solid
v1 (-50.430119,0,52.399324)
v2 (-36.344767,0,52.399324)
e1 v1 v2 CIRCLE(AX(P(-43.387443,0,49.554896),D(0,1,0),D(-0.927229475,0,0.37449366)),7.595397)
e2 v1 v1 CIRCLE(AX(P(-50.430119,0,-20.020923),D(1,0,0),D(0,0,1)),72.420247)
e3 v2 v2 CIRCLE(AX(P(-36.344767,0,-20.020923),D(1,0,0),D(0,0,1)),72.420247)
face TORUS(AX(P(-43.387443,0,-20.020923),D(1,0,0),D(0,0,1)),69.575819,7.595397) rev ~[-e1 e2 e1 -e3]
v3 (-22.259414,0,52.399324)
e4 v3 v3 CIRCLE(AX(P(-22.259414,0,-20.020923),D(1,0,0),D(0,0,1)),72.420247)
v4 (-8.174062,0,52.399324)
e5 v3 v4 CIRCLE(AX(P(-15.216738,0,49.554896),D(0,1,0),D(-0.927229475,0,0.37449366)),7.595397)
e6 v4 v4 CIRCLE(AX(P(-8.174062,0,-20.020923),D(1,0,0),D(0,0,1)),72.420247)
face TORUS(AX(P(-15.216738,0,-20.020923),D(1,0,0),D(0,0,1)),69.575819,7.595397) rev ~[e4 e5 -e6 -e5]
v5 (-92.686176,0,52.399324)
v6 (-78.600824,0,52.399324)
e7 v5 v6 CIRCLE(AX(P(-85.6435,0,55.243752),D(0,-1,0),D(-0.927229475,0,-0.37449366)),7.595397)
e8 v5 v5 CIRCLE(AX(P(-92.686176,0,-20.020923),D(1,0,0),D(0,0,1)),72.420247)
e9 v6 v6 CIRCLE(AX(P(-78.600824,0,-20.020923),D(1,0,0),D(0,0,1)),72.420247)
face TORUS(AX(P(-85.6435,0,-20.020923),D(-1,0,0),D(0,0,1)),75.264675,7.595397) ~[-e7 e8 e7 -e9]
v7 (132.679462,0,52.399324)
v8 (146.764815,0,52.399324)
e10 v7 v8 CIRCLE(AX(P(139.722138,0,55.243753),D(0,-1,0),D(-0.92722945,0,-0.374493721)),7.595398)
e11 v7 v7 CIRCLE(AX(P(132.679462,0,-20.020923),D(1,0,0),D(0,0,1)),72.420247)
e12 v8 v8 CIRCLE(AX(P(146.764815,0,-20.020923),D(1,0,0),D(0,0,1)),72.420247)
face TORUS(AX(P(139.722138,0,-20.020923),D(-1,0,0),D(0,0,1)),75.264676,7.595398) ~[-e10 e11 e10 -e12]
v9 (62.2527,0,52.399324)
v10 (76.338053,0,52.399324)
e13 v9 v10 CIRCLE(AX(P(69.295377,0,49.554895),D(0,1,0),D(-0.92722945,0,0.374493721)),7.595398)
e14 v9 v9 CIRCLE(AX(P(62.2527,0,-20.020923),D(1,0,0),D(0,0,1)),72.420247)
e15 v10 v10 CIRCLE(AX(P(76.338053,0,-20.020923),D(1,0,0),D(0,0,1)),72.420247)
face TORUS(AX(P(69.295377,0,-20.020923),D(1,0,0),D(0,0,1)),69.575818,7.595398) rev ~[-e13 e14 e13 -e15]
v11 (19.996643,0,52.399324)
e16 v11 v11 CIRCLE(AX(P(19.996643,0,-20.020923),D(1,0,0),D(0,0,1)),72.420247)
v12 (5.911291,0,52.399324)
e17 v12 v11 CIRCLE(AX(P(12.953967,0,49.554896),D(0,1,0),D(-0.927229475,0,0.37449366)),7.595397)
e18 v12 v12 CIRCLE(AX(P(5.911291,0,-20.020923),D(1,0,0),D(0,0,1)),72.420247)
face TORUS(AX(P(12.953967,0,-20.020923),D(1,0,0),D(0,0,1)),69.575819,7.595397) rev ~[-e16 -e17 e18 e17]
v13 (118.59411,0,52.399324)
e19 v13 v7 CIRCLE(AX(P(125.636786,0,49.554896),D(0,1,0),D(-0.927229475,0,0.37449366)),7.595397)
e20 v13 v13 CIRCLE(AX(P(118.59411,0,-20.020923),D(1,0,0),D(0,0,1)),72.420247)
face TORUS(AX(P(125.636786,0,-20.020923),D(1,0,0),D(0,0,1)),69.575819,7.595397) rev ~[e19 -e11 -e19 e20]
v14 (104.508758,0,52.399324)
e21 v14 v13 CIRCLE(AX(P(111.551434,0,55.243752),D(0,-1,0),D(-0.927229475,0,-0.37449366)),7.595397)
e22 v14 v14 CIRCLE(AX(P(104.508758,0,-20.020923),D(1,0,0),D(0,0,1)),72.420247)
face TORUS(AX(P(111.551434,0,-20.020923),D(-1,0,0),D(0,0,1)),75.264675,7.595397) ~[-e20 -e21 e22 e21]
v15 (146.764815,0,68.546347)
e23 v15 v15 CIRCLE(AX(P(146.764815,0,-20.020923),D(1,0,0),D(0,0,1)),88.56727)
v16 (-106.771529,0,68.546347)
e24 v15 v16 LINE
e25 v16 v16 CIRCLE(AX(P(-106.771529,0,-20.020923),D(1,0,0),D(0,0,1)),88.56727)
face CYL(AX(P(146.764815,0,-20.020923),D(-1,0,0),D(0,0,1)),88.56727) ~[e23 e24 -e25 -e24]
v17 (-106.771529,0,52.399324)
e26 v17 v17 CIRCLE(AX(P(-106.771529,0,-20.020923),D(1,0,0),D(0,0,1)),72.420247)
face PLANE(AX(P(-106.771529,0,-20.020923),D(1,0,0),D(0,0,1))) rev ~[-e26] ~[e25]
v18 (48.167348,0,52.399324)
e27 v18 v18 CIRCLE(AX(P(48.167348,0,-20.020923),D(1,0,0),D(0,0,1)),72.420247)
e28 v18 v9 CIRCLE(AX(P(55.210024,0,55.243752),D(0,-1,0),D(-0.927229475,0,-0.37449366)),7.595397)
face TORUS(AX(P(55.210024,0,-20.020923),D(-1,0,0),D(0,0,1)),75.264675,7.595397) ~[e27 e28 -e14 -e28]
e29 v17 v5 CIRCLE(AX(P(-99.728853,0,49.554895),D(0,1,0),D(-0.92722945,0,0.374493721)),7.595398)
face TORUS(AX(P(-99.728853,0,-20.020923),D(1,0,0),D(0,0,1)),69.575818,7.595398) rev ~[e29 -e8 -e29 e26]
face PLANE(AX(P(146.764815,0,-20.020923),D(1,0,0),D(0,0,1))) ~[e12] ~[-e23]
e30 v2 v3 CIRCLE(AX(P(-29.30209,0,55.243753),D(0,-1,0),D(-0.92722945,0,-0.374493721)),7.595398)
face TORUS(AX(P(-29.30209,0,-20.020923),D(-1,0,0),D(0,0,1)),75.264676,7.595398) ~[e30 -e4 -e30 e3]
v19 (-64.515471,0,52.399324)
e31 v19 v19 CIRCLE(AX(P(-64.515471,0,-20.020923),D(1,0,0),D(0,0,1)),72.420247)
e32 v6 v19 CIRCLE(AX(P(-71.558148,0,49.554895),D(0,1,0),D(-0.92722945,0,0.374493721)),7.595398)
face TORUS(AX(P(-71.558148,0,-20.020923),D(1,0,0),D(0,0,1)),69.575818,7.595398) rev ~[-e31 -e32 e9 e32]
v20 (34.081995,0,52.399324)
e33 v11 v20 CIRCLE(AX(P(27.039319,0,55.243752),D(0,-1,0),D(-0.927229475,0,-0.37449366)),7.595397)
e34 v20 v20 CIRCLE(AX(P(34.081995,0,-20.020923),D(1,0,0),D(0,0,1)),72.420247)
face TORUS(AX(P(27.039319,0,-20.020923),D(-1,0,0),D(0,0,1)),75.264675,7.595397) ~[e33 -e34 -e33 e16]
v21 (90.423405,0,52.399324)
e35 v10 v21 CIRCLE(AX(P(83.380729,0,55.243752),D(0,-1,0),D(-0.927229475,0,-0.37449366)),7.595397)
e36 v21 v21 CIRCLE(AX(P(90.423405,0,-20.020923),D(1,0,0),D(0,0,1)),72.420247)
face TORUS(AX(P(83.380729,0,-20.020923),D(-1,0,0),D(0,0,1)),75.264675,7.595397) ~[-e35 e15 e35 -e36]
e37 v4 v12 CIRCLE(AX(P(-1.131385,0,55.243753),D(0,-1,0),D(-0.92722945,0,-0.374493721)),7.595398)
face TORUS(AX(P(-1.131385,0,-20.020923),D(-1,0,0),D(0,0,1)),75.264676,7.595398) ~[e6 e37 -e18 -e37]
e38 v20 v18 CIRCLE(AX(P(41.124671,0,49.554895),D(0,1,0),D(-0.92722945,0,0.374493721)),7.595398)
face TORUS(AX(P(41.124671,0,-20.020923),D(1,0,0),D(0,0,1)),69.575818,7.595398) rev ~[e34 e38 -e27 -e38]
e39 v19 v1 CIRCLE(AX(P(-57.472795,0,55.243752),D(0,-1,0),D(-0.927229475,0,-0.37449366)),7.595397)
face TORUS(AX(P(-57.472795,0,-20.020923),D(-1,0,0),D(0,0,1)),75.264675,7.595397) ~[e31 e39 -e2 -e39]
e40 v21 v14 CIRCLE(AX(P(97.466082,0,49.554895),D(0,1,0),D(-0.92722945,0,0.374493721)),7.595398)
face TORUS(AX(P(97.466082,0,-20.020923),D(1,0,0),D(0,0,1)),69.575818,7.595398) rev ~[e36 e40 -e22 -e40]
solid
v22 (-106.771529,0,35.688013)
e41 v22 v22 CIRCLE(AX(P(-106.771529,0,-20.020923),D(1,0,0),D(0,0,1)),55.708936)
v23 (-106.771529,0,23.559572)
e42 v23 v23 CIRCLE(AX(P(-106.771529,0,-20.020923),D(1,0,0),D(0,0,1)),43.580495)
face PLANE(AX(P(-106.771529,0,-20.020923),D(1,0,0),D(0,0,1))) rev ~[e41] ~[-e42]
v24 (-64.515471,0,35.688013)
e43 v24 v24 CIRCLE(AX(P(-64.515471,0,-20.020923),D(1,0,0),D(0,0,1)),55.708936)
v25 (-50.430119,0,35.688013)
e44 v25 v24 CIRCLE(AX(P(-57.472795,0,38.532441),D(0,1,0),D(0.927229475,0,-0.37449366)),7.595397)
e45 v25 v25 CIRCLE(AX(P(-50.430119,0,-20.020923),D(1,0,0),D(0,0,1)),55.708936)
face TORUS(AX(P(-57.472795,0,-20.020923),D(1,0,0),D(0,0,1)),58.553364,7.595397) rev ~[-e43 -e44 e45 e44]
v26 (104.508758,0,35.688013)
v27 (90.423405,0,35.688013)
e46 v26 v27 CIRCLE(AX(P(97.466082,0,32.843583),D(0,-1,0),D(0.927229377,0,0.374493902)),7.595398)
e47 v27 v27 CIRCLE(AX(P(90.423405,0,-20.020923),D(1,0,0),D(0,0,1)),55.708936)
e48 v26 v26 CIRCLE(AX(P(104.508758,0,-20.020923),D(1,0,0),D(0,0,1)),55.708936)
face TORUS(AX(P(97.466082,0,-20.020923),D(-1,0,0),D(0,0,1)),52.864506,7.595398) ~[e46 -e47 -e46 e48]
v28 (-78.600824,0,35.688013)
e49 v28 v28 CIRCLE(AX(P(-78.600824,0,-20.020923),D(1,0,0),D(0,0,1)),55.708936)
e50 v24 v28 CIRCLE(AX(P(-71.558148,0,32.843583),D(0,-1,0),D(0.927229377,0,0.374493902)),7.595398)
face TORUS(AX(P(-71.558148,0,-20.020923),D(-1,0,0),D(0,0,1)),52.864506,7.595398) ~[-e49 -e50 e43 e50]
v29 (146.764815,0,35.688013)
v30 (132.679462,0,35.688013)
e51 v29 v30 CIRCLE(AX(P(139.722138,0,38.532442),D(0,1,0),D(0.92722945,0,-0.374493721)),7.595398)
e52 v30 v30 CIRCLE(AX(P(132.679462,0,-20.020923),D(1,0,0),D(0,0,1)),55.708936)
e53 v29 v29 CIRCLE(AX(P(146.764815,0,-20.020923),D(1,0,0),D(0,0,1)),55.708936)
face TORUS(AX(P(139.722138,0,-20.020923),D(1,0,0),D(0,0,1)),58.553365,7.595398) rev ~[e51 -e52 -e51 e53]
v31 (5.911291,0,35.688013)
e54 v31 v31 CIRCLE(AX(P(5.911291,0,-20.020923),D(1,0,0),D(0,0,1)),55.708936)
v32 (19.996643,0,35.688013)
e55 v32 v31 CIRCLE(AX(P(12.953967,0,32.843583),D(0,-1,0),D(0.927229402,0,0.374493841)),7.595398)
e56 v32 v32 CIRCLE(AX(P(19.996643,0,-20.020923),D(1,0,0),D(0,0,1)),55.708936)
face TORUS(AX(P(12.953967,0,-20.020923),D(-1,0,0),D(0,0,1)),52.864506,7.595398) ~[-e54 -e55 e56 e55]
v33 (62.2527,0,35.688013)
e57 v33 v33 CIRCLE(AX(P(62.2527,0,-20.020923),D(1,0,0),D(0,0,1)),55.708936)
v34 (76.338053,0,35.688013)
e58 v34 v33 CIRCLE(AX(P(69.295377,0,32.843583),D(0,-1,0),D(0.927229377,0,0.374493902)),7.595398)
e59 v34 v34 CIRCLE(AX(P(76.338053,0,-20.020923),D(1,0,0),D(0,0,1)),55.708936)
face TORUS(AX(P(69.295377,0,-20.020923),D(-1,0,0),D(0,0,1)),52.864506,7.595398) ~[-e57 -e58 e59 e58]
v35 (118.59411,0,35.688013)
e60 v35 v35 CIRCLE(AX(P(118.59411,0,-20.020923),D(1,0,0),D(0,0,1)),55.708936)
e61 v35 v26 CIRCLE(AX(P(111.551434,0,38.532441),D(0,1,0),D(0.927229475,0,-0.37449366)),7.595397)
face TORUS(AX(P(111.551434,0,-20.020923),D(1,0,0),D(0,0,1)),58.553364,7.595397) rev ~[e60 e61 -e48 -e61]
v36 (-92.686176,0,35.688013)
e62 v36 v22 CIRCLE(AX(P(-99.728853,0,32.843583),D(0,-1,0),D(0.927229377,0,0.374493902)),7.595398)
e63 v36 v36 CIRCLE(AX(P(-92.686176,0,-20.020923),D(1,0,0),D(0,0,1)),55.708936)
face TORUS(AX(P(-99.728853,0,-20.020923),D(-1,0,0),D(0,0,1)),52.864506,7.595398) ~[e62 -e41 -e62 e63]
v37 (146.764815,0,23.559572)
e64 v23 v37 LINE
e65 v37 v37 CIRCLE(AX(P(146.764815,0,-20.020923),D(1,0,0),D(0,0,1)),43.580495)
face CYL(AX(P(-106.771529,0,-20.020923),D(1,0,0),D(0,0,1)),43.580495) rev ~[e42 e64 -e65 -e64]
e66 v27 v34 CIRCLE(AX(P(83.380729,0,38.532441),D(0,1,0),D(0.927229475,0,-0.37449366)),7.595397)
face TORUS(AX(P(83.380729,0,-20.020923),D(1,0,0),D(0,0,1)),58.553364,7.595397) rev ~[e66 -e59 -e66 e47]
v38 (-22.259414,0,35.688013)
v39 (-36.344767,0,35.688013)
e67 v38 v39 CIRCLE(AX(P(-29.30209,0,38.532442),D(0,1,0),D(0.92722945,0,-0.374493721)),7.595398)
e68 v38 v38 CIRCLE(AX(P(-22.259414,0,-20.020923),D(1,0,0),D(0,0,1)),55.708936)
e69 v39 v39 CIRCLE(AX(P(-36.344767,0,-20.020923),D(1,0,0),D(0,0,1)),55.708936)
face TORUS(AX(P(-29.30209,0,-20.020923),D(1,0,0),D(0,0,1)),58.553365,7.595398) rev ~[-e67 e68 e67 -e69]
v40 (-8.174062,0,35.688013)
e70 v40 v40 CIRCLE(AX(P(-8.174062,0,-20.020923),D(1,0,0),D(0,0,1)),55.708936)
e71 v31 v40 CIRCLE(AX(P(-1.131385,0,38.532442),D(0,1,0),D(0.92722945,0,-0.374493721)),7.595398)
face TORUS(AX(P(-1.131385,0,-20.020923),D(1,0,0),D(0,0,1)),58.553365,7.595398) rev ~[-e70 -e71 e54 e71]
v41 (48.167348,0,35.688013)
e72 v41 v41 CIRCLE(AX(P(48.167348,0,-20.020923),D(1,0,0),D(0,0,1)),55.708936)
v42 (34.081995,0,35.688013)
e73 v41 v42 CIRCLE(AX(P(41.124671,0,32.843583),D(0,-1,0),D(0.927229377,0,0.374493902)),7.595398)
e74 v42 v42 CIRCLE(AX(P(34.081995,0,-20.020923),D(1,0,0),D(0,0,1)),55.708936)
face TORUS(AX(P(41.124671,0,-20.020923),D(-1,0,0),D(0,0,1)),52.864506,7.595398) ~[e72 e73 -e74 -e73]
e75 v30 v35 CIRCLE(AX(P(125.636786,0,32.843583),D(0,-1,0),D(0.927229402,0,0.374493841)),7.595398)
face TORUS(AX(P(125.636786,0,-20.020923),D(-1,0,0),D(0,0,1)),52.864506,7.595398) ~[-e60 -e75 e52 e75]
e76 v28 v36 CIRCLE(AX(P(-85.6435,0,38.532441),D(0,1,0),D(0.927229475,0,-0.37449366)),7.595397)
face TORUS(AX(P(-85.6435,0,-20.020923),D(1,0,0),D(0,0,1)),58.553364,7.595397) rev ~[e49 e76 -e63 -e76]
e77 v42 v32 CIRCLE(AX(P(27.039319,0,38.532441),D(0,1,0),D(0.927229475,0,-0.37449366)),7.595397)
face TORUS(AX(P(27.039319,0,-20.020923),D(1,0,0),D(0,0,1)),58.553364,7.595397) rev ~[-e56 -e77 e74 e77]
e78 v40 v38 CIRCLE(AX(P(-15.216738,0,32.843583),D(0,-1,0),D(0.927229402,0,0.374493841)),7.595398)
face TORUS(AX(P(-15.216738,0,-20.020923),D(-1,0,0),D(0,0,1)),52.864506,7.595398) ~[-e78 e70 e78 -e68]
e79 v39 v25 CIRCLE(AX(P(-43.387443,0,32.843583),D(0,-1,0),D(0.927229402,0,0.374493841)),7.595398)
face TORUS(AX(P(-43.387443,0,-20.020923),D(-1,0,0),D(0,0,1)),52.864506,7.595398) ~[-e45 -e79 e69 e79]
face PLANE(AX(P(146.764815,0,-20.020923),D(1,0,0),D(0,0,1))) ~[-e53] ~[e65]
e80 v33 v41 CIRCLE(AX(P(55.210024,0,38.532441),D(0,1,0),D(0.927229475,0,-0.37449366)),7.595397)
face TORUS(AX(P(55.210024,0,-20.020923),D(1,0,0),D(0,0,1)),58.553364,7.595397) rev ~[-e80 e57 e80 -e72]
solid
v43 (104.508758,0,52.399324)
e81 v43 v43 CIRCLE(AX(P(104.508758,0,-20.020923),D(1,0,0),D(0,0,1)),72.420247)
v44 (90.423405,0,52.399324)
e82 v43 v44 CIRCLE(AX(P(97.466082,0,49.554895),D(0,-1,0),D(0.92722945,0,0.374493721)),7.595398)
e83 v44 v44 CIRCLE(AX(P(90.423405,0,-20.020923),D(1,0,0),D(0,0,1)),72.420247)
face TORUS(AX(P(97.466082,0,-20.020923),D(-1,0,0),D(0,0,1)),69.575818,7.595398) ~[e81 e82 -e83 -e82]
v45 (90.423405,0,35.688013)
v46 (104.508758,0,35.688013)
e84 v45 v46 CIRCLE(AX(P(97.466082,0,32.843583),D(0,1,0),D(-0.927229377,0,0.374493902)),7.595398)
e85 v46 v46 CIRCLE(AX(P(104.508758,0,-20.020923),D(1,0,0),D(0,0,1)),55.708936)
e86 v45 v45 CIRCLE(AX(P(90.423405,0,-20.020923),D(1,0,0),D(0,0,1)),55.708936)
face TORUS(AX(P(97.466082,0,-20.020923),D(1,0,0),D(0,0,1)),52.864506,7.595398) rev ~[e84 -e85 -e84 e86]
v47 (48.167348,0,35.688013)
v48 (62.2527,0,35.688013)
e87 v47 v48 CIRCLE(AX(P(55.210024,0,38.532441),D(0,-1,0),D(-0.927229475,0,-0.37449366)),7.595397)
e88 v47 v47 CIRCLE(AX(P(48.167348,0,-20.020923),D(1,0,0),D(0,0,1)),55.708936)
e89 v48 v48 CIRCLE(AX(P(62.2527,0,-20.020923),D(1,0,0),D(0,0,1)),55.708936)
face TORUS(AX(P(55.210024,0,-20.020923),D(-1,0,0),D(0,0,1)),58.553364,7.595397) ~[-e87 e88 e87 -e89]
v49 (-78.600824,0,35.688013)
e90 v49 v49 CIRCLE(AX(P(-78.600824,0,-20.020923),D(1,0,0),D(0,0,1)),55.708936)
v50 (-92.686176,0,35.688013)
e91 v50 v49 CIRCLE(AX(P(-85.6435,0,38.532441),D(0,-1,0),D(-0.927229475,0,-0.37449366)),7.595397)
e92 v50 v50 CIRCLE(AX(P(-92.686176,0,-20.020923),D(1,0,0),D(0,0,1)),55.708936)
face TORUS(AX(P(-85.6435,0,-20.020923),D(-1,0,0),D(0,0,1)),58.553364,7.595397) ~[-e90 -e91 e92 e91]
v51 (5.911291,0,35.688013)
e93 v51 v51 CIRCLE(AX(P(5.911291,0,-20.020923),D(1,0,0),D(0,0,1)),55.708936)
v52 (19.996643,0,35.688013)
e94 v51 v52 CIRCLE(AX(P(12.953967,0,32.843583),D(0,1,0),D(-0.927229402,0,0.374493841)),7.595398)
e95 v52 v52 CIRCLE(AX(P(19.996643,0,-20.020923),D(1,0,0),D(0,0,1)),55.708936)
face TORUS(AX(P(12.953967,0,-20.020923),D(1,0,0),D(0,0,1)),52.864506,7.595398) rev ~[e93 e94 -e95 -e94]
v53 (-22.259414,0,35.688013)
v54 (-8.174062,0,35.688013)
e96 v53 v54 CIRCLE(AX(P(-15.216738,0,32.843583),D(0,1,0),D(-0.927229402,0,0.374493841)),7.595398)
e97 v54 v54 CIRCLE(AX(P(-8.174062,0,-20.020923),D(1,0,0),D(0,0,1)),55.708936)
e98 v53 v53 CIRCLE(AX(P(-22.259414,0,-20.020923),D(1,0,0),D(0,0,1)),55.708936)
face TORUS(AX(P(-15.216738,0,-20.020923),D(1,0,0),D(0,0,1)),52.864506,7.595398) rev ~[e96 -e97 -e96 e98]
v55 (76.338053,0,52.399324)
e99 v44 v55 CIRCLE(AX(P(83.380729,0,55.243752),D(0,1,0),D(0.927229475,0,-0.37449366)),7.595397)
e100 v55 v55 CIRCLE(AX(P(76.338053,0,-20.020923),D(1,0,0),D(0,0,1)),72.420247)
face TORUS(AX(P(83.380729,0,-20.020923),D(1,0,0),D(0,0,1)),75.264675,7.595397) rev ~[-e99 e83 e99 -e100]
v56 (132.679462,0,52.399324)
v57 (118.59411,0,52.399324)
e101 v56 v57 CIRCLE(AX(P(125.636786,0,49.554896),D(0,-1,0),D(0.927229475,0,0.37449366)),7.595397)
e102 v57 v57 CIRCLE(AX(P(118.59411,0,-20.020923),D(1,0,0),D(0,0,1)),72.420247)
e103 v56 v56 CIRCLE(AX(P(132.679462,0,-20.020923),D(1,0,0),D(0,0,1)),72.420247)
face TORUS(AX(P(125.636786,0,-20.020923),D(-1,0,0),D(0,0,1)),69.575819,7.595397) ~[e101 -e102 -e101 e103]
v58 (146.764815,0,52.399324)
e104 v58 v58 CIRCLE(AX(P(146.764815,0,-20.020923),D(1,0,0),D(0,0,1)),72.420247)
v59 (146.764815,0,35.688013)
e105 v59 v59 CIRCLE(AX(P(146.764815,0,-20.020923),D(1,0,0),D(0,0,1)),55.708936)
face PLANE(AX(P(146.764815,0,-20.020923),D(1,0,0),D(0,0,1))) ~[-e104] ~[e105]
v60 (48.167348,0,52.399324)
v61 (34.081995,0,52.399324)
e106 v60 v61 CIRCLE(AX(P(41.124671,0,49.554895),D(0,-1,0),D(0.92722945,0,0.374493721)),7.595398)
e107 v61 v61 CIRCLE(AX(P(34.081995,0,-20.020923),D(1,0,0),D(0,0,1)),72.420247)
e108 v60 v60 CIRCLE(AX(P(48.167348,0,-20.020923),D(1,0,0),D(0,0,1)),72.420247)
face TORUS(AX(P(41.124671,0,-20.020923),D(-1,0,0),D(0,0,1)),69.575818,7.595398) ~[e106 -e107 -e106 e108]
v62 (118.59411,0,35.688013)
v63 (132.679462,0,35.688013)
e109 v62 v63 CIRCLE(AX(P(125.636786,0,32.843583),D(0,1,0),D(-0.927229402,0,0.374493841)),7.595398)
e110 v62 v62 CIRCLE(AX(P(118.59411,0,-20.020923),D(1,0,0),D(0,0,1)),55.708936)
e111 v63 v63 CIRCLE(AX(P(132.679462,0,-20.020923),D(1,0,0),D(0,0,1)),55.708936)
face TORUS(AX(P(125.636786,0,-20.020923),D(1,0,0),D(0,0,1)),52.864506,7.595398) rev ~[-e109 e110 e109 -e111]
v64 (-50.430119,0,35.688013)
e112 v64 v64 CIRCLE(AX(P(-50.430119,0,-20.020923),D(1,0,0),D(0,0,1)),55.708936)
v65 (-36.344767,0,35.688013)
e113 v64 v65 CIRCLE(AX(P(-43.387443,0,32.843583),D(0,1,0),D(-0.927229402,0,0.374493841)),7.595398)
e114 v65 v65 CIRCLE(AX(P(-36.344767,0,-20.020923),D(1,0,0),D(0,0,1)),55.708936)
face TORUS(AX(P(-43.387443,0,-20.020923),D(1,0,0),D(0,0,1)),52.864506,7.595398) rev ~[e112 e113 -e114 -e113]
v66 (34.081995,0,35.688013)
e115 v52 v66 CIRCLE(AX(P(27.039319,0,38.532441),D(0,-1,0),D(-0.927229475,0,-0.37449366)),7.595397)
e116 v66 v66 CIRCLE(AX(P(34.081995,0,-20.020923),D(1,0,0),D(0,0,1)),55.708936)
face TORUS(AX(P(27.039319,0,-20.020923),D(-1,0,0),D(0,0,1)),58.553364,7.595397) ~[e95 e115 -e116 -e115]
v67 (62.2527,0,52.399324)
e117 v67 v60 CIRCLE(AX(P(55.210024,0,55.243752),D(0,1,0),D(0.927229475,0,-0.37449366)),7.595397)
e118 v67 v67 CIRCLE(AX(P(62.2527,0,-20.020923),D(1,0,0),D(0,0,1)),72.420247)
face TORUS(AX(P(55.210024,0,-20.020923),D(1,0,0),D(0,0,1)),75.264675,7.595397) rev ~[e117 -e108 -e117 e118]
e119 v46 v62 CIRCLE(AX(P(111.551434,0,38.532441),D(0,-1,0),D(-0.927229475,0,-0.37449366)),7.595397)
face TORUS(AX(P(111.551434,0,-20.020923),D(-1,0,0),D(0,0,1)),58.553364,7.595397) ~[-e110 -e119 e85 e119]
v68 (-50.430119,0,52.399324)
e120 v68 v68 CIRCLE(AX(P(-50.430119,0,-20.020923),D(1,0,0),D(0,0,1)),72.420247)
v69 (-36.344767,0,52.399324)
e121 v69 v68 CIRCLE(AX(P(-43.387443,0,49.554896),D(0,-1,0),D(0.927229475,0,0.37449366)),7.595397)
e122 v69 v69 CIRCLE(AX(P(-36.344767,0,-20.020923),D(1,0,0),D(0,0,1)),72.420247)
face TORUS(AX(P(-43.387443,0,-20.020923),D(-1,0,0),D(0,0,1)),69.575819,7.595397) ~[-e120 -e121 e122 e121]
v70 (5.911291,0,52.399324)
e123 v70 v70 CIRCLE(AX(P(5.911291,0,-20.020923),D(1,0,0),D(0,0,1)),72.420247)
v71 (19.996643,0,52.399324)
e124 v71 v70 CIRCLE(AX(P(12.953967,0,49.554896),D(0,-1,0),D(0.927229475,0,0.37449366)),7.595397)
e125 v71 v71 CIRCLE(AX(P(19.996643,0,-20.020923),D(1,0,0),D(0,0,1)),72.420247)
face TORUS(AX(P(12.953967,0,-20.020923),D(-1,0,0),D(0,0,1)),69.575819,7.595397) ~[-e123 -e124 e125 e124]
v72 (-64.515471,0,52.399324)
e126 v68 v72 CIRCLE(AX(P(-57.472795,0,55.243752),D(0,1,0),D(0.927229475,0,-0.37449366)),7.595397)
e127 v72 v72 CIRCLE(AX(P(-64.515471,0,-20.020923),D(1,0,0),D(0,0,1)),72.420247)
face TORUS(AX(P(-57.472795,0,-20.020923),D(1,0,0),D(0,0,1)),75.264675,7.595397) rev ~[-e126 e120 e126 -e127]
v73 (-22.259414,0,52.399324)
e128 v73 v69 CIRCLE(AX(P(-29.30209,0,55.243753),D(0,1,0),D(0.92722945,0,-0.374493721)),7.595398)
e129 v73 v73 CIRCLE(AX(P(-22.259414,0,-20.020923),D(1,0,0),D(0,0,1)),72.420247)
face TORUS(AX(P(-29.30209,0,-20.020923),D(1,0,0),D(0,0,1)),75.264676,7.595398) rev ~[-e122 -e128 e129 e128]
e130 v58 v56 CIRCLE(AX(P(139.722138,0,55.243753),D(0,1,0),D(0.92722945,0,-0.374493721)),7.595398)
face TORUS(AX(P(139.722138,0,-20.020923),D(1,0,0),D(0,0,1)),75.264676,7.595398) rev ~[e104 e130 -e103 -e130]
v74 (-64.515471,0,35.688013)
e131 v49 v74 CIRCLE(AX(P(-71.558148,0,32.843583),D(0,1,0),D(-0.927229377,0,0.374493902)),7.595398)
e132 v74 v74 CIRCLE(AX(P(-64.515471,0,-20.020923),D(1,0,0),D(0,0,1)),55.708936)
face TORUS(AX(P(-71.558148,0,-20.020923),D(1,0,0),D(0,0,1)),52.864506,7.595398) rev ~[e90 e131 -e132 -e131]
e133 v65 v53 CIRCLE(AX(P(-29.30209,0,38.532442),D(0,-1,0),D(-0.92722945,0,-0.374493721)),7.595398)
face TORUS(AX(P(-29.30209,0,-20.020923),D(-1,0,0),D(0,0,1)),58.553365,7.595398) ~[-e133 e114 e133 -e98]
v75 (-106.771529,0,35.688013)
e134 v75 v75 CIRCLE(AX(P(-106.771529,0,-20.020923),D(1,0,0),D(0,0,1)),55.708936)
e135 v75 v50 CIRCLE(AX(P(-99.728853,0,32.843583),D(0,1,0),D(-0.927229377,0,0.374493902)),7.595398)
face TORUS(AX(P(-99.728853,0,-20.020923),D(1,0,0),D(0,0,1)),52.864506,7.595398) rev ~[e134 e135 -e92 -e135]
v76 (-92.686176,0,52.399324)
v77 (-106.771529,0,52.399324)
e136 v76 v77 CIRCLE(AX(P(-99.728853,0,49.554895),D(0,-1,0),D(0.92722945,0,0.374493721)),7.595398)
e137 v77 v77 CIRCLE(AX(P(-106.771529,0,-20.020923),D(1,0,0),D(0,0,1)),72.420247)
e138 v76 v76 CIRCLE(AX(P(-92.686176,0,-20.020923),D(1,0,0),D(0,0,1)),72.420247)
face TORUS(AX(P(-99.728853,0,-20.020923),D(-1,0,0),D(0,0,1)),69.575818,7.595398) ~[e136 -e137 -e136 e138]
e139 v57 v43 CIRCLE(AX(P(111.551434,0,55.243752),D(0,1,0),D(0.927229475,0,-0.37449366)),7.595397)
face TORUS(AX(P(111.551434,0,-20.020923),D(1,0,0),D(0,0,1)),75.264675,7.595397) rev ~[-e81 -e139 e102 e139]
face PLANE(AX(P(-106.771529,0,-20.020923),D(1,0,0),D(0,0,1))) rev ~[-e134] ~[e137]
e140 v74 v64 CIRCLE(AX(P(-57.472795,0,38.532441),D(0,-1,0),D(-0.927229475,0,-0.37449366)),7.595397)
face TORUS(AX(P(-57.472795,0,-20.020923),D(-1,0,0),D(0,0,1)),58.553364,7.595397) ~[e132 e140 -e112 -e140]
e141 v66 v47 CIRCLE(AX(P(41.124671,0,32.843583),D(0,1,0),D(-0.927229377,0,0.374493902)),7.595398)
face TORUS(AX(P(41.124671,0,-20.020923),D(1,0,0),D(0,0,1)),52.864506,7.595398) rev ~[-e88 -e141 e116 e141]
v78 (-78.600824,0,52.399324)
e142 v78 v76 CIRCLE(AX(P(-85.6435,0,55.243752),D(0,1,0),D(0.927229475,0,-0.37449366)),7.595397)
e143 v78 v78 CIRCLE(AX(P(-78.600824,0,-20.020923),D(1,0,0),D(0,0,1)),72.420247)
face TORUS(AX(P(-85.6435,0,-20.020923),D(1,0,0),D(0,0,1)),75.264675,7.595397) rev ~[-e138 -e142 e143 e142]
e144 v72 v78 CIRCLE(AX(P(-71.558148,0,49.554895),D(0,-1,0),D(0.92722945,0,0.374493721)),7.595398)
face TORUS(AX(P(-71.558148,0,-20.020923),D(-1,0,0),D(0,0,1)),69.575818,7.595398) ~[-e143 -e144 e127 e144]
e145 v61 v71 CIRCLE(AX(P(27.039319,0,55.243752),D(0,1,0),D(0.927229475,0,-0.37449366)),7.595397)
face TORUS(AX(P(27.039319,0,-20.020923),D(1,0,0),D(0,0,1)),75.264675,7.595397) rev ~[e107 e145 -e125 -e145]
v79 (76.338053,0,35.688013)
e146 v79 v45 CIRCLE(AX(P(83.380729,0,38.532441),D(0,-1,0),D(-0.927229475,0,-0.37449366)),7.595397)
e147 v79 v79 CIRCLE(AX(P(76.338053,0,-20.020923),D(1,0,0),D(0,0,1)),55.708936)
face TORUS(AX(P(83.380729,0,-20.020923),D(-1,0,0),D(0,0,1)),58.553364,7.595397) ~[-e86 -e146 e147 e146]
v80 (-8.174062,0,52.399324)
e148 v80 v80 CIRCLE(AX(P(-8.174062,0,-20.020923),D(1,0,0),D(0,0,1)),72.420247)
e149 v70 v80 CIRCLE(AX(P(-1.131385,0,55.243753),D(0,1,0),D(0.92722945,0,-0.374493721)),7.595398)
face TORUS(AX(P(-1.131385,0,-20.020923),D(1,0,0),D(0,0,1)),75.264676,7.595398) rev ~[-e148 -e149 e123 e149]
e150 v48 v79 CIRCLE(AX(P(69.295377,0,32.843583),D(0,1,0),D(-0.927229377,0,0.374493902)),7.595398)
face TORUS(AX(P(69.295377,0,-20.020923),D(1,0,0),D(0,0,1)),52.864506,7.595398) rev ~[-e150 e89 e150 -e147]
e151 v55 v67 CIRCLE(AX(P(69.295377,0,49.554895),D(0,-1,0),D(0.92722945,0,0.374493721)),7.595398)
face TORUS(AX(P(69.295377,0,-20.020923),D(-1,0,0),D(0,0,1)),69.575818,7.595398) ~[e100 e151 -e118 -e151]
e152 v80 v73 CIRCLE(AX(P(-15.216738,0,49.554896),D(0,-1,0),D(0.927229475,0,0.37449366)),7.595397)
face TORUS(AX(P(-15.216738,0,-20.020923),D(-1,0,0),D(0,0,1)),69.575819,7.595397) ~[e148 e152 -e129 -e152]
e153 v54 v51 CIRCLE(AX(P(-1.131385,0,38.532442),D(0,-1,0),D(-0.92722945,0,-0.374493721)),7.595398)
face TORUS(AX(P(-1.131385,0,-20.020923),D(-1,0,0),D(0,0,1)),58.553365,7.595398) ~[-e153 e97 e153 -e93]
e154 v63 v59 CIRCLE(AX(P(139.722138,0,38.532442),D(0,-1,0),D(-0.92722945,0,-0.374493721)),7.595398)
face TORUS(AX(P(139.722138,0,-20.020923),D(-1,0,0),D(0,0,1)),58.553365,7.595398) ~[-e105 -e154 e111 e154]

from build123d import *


with BuildPart() as f1:
    # F0 (on Front) → F1 (revolve)
    with BuildSketch(Plane.XZ):
        with BuildLine():
            ThreePointArc((-92.686176, 52.399324), (-99.728853, 57.150293), (-106.771529, 52.399324))
            Line((-106.771529, 52.399324), (-106.771529, 35.688013))
            ThreePointArc((-106.771529, 35.688013), (-99.728853, 40.438981), (-92.686176, 35.688013))
            ThreePointArc((-92.686176, 35.688013), (-85.6435, 30.937044), (-78.600824, 35.688013))
            ThreePointArc((-78.600824, 35.688013), (-71.558148, 40.438981), (-64.515471, 35.688013))
            ThreePointArc((-64.515471, 35.688013), (-57.472795, 30.937044), (-50.430119, 35.688013))
            ThreePointArc((-50.430119, 35.688013), (-43.387443, 40.438981), (-36.344767, 35.688013))
            ThreePointArc((-36.344767, 35.688013), (-29.30209, 30.937044), (-22.259414, 35.688013))
            ThreePointArc((-22.259414, 35.688013), (-15.216738, 40.438981), (-8.174062, 35.688013))
            ThreePointArc((-8.174062, 35.688013), (-1.131386, 30.937044), (5.911291, 35.688013))
            ThreePointArc((5.911291, 35.688013), (12.953967, 40.438981), (19.996643, 35.688013))
            ThreePointArc((19.996643, 35.688013), (27.039319, 30.937044), (34.081995, 35.688013))
            ThreePointArc((34.081995, 35.688013), (41.124672, 40.438981), (48.167348, 35.688013))
            ThreePointArc((48.167348, 35.688013), (55.210024, 30.937044), (62.2527, 35.688013))
            ThreePointArc((62.2527, 35.688013), (69.295377, 40.438981), (76.338053, 35.688013))
            ThreePointArc((76.338053, 35.688013), (83.380729, 30.937044), (90.423405, 35.688013))
            ThreePointArc((90.423405, 35.688013), (97.466081, 40.438981), (104.508758, 35.688013))
            ThreePointArc((104.508758, 35.688013), (111.551434, 30.937044), (118.59411, 35.688013))
            ThreePointArc((118.59411, 35.688013), (125.636786, 40.438981), (132.679462, 35.688013))
            ThreePointArc((132.679462, 35.688013), (139.722139, 30.937044), (146.764815, 35.688013))
            Line((146.764815, 35.688013), (146.764815, 52.399324))
            ThreePointArc((146.764815, 52.399324), (139.722139, 47.648355), (132.679462, 52.399324))
            ThreePointArc((132.679462, 52.399324), (125.636786, 57.150293), (118.59411, 52.399324))
            ThreePointArc((118.59411, 52.399324), (111.551434, 47.648355), (104.508758, 52.399324))
            ThreePointArc((104.508758, 52.399324), (97.466081, 57.150293), (90.423405, 52.399324))
            ThreePointArc((90.423405, 52.399324), (83.380729, 47.648355), (76.338053, 52.399324))
            ThreePointArc((76.338053, 52.399324), (69.295377, 57.150293), (62.2527, 52.399324))
            ThreePointArc((62.2527, 52.399324), (55.210024, 47.648355), (48.167348, 52.399324))
            ThreePointArc((48.167348, 52.399324), (41.124672, 57.150293), (34.081995, 52.399324))
            ThreePointArc((34.081995, 52.399324), (27.039319, 47.648355), (19.996643, 52.399324))
            ThreePointArc((19.996643, 52.399324), (12.953967, 57.150293), (5.911291, 52.399324))
            ThreePointArc((5.911291, 52.399324), (-1.131386, 47.648355), (-8.174062, 52.399324))
            ThreePointArc((-8.174062, 52.399324), (-15.216738, 57.150293), (-22.259414, 52.399324))
            ThreePointArc((-22.259414, 52.399324), (-29.30209, 47.648355), (-36.344767, 52.399324))
            ThreePointArc((-36.344767, 52.399324), (-43.387443, 57.150293), (-50.430119, 52.399324))
            ThreePointArc((-50.430119, 52.399324), (-57.472795, 47.648355), (-64.515471, 52.399324))
            ThreePointArc((-64.515471, 52.399324), (-71.558148, 57.150293), (-78.600824, 52.399324))
            ThreePointArc((-78.600824, 52.399324), (-85.6435, 47.648355), (-92.686176, 52.399324))
        make_face()
    revolve(axis=Axis((29.789105, 0, -20.020923), (1, 0, 0)))


with BuildPart() as f2:
    # F0 (on Front) → F2 (revolve)
    with BuildSketch(Plane.XZ):
        with BuildLine():
            ThreePointArc((-92.686176, 35.688013), (-99.728853, 40.438981), (-106.771529, 35.688013))
            Line((-106.771529, 35.688013), (-106.771529, 23.559572))
            Line((-106.771529, 23.559572), (146.764815, 23.559572))
            Line((146.764815, 23.559572), (146.764815, 35.688013))
            ThreePointArc((146.764815, 35.688013), (139.722139, 30.937044), (132.679462, 35.688013))
            ThreePointArc((132.679462, 35.688013), (125.636786, 40.438981), (118.59411, 35.688013))
            ThreePointArc((118.59411, 35.688013), (111.551434, 30.937044), (104.508758, 35.688013))
            ThreePointArc((104.508758, 35.688013), (97.466081, 40.438981), (90.423405, 35.688013))
            ThreePointArc((90.423405, 35.688013), (83.380729, 30.937044), (76.338053, 35.688013))
            ThreePointArc((76.338053, 35.688013), (69.295377, 40.438981), (62.2527, 35.688013))
            ThreePointArc((62.2527, 35.688013), (55.210024, 30.937044), (48.167348, 35.688013))
            ThreePointArc((48.167348, 35.688013), (41.124672, 40.438981), (34.081995, 35.688013))
            ThreePointArc((34.081995, 35.688013), (27.039319, 30.937044), (19.996643, 35.688013))
            ThreePointArc((19.996643, 35.688013), (12.953967, 40.438981), (5.911291, 35.688013))
            ThreePointArc((5.911291, 35.688013), (-1.131386, 30.937044), (-8.174062, 35.688013))
            ThreePointArc((-8.174062, 35.688013), (-15.216738, 40.438981), (-22.259414, 35.688013))
            ThreePointArc((-22.259414, 35.688013), (-29.30209, 30.937044), (-36.344767, 35.688013))
            ThreePointArc((-36.344767, 35.688013), (-43.387443, 40.438981), (-50.430119, 35.688013))
            ThreePointArc((-50.430119, 35.688013), (-57.472795, 30.937044), (-64.515471, 35.688013))
            ThreePointArc((-64.515471, 35.688013), (-71.558148, 40.438981), (-78.600824, 35.688013))
            ThreePointArc((-78.600824, 35.688013), (-85.6435, 30.937044), (-92.686176, 35.688013))
        make_face()
    revolve(axis=Axis((29.789105, 0, -20.020923), (1, 0, 0)))


with BuildPart() as f3:
    # F0 (on Front) → F3 (revolve)
    with BuildSketch(Plane.XZ):
        with BuildLine():
            Line((146.764815, 68.546347), (-106.771529, 68.546347))
            Line((-106.771529, 68.546347), (-106.771529, 52.399324))
            ThreePointArc((-106.771529, 52.399324), (-99.728853, 57.150293), (-92.686176, 52.399324))
            ThreePointArc((-92.686176, 52.399324), (-85.6435, 47.648355), (-78.600824, 52.399324))
            ThreePointArc((-78.600824, 52.399324), (-71.558148, 57.150293), (-64.515471, 52.399324))
            ThreePointArc((-64.515471, 52.399324), (-57.472795, 47.648355), (-50.430119, 52.399324))
            ThreePointArc((-50.430119, 52.399324), (-43.387443, 57.150293), (-36.344767, 52.399324))
            ThreePointArc((-36.344767, 52.399324), (-29.30209, 47.648355), (-22.259414, 52.399324))
            ThreePointArc((-22.259414, 52.399324), (-15.216738, 57.150293), (-8.174062, 52.399324))
            ThreePointArc((-8.174062, 52.399324), (-1.131386, 47.648355), (5.911291, 52.399324))
            ThreePointArc((5.911291, 52.399324), (12.953967, 57.150293), (19.996643, 52.399324))
            ThreePointArc((19.996643, 52.399324), (27.039319, 47.648355), (34.081995, 52.399324))
            ThreePointArc((34.081995, 52.399324), (41.124672, 57.150293), (48.167348, 52.399324))
            ThreePointArc((48.167348, 52.399324), (55.210024, 47.648355), (62.2527, 52.399324))
            ThreePointArc((62.2527, 52.399324), (69.295377, 57.150293), (76.338053, 52.399324))
            ThreePointArc((76.338053, 52.399324), (83.380729, 47.648355), (90.423405, 52.399324))
            ThreePointArc((90.423405, 52.399324), (97.466081, 57.150293), (104.508758, 52.399324))
            ThreePointArc((104.508758, 52.399324), (111.551434, 47.648355), (118.59411, 52.399324))
            ThreePointArc((118.59411, 52.399324), (125.636786, 57.150293), (132.679462, 52.399324))
            ThreePointArc((132.679462, 52.399324), (139.722139, 47.648355), (146.764815, 52.399324))
            Line((146.764815, 52.399324), (146.764815, 68.546347))
        make_face()
    revolve(axis=Axis((29.789105, 0, -20.020923), (1, 0, 0)))


solid = Compound([f1.part, f2.part, f3.part])
